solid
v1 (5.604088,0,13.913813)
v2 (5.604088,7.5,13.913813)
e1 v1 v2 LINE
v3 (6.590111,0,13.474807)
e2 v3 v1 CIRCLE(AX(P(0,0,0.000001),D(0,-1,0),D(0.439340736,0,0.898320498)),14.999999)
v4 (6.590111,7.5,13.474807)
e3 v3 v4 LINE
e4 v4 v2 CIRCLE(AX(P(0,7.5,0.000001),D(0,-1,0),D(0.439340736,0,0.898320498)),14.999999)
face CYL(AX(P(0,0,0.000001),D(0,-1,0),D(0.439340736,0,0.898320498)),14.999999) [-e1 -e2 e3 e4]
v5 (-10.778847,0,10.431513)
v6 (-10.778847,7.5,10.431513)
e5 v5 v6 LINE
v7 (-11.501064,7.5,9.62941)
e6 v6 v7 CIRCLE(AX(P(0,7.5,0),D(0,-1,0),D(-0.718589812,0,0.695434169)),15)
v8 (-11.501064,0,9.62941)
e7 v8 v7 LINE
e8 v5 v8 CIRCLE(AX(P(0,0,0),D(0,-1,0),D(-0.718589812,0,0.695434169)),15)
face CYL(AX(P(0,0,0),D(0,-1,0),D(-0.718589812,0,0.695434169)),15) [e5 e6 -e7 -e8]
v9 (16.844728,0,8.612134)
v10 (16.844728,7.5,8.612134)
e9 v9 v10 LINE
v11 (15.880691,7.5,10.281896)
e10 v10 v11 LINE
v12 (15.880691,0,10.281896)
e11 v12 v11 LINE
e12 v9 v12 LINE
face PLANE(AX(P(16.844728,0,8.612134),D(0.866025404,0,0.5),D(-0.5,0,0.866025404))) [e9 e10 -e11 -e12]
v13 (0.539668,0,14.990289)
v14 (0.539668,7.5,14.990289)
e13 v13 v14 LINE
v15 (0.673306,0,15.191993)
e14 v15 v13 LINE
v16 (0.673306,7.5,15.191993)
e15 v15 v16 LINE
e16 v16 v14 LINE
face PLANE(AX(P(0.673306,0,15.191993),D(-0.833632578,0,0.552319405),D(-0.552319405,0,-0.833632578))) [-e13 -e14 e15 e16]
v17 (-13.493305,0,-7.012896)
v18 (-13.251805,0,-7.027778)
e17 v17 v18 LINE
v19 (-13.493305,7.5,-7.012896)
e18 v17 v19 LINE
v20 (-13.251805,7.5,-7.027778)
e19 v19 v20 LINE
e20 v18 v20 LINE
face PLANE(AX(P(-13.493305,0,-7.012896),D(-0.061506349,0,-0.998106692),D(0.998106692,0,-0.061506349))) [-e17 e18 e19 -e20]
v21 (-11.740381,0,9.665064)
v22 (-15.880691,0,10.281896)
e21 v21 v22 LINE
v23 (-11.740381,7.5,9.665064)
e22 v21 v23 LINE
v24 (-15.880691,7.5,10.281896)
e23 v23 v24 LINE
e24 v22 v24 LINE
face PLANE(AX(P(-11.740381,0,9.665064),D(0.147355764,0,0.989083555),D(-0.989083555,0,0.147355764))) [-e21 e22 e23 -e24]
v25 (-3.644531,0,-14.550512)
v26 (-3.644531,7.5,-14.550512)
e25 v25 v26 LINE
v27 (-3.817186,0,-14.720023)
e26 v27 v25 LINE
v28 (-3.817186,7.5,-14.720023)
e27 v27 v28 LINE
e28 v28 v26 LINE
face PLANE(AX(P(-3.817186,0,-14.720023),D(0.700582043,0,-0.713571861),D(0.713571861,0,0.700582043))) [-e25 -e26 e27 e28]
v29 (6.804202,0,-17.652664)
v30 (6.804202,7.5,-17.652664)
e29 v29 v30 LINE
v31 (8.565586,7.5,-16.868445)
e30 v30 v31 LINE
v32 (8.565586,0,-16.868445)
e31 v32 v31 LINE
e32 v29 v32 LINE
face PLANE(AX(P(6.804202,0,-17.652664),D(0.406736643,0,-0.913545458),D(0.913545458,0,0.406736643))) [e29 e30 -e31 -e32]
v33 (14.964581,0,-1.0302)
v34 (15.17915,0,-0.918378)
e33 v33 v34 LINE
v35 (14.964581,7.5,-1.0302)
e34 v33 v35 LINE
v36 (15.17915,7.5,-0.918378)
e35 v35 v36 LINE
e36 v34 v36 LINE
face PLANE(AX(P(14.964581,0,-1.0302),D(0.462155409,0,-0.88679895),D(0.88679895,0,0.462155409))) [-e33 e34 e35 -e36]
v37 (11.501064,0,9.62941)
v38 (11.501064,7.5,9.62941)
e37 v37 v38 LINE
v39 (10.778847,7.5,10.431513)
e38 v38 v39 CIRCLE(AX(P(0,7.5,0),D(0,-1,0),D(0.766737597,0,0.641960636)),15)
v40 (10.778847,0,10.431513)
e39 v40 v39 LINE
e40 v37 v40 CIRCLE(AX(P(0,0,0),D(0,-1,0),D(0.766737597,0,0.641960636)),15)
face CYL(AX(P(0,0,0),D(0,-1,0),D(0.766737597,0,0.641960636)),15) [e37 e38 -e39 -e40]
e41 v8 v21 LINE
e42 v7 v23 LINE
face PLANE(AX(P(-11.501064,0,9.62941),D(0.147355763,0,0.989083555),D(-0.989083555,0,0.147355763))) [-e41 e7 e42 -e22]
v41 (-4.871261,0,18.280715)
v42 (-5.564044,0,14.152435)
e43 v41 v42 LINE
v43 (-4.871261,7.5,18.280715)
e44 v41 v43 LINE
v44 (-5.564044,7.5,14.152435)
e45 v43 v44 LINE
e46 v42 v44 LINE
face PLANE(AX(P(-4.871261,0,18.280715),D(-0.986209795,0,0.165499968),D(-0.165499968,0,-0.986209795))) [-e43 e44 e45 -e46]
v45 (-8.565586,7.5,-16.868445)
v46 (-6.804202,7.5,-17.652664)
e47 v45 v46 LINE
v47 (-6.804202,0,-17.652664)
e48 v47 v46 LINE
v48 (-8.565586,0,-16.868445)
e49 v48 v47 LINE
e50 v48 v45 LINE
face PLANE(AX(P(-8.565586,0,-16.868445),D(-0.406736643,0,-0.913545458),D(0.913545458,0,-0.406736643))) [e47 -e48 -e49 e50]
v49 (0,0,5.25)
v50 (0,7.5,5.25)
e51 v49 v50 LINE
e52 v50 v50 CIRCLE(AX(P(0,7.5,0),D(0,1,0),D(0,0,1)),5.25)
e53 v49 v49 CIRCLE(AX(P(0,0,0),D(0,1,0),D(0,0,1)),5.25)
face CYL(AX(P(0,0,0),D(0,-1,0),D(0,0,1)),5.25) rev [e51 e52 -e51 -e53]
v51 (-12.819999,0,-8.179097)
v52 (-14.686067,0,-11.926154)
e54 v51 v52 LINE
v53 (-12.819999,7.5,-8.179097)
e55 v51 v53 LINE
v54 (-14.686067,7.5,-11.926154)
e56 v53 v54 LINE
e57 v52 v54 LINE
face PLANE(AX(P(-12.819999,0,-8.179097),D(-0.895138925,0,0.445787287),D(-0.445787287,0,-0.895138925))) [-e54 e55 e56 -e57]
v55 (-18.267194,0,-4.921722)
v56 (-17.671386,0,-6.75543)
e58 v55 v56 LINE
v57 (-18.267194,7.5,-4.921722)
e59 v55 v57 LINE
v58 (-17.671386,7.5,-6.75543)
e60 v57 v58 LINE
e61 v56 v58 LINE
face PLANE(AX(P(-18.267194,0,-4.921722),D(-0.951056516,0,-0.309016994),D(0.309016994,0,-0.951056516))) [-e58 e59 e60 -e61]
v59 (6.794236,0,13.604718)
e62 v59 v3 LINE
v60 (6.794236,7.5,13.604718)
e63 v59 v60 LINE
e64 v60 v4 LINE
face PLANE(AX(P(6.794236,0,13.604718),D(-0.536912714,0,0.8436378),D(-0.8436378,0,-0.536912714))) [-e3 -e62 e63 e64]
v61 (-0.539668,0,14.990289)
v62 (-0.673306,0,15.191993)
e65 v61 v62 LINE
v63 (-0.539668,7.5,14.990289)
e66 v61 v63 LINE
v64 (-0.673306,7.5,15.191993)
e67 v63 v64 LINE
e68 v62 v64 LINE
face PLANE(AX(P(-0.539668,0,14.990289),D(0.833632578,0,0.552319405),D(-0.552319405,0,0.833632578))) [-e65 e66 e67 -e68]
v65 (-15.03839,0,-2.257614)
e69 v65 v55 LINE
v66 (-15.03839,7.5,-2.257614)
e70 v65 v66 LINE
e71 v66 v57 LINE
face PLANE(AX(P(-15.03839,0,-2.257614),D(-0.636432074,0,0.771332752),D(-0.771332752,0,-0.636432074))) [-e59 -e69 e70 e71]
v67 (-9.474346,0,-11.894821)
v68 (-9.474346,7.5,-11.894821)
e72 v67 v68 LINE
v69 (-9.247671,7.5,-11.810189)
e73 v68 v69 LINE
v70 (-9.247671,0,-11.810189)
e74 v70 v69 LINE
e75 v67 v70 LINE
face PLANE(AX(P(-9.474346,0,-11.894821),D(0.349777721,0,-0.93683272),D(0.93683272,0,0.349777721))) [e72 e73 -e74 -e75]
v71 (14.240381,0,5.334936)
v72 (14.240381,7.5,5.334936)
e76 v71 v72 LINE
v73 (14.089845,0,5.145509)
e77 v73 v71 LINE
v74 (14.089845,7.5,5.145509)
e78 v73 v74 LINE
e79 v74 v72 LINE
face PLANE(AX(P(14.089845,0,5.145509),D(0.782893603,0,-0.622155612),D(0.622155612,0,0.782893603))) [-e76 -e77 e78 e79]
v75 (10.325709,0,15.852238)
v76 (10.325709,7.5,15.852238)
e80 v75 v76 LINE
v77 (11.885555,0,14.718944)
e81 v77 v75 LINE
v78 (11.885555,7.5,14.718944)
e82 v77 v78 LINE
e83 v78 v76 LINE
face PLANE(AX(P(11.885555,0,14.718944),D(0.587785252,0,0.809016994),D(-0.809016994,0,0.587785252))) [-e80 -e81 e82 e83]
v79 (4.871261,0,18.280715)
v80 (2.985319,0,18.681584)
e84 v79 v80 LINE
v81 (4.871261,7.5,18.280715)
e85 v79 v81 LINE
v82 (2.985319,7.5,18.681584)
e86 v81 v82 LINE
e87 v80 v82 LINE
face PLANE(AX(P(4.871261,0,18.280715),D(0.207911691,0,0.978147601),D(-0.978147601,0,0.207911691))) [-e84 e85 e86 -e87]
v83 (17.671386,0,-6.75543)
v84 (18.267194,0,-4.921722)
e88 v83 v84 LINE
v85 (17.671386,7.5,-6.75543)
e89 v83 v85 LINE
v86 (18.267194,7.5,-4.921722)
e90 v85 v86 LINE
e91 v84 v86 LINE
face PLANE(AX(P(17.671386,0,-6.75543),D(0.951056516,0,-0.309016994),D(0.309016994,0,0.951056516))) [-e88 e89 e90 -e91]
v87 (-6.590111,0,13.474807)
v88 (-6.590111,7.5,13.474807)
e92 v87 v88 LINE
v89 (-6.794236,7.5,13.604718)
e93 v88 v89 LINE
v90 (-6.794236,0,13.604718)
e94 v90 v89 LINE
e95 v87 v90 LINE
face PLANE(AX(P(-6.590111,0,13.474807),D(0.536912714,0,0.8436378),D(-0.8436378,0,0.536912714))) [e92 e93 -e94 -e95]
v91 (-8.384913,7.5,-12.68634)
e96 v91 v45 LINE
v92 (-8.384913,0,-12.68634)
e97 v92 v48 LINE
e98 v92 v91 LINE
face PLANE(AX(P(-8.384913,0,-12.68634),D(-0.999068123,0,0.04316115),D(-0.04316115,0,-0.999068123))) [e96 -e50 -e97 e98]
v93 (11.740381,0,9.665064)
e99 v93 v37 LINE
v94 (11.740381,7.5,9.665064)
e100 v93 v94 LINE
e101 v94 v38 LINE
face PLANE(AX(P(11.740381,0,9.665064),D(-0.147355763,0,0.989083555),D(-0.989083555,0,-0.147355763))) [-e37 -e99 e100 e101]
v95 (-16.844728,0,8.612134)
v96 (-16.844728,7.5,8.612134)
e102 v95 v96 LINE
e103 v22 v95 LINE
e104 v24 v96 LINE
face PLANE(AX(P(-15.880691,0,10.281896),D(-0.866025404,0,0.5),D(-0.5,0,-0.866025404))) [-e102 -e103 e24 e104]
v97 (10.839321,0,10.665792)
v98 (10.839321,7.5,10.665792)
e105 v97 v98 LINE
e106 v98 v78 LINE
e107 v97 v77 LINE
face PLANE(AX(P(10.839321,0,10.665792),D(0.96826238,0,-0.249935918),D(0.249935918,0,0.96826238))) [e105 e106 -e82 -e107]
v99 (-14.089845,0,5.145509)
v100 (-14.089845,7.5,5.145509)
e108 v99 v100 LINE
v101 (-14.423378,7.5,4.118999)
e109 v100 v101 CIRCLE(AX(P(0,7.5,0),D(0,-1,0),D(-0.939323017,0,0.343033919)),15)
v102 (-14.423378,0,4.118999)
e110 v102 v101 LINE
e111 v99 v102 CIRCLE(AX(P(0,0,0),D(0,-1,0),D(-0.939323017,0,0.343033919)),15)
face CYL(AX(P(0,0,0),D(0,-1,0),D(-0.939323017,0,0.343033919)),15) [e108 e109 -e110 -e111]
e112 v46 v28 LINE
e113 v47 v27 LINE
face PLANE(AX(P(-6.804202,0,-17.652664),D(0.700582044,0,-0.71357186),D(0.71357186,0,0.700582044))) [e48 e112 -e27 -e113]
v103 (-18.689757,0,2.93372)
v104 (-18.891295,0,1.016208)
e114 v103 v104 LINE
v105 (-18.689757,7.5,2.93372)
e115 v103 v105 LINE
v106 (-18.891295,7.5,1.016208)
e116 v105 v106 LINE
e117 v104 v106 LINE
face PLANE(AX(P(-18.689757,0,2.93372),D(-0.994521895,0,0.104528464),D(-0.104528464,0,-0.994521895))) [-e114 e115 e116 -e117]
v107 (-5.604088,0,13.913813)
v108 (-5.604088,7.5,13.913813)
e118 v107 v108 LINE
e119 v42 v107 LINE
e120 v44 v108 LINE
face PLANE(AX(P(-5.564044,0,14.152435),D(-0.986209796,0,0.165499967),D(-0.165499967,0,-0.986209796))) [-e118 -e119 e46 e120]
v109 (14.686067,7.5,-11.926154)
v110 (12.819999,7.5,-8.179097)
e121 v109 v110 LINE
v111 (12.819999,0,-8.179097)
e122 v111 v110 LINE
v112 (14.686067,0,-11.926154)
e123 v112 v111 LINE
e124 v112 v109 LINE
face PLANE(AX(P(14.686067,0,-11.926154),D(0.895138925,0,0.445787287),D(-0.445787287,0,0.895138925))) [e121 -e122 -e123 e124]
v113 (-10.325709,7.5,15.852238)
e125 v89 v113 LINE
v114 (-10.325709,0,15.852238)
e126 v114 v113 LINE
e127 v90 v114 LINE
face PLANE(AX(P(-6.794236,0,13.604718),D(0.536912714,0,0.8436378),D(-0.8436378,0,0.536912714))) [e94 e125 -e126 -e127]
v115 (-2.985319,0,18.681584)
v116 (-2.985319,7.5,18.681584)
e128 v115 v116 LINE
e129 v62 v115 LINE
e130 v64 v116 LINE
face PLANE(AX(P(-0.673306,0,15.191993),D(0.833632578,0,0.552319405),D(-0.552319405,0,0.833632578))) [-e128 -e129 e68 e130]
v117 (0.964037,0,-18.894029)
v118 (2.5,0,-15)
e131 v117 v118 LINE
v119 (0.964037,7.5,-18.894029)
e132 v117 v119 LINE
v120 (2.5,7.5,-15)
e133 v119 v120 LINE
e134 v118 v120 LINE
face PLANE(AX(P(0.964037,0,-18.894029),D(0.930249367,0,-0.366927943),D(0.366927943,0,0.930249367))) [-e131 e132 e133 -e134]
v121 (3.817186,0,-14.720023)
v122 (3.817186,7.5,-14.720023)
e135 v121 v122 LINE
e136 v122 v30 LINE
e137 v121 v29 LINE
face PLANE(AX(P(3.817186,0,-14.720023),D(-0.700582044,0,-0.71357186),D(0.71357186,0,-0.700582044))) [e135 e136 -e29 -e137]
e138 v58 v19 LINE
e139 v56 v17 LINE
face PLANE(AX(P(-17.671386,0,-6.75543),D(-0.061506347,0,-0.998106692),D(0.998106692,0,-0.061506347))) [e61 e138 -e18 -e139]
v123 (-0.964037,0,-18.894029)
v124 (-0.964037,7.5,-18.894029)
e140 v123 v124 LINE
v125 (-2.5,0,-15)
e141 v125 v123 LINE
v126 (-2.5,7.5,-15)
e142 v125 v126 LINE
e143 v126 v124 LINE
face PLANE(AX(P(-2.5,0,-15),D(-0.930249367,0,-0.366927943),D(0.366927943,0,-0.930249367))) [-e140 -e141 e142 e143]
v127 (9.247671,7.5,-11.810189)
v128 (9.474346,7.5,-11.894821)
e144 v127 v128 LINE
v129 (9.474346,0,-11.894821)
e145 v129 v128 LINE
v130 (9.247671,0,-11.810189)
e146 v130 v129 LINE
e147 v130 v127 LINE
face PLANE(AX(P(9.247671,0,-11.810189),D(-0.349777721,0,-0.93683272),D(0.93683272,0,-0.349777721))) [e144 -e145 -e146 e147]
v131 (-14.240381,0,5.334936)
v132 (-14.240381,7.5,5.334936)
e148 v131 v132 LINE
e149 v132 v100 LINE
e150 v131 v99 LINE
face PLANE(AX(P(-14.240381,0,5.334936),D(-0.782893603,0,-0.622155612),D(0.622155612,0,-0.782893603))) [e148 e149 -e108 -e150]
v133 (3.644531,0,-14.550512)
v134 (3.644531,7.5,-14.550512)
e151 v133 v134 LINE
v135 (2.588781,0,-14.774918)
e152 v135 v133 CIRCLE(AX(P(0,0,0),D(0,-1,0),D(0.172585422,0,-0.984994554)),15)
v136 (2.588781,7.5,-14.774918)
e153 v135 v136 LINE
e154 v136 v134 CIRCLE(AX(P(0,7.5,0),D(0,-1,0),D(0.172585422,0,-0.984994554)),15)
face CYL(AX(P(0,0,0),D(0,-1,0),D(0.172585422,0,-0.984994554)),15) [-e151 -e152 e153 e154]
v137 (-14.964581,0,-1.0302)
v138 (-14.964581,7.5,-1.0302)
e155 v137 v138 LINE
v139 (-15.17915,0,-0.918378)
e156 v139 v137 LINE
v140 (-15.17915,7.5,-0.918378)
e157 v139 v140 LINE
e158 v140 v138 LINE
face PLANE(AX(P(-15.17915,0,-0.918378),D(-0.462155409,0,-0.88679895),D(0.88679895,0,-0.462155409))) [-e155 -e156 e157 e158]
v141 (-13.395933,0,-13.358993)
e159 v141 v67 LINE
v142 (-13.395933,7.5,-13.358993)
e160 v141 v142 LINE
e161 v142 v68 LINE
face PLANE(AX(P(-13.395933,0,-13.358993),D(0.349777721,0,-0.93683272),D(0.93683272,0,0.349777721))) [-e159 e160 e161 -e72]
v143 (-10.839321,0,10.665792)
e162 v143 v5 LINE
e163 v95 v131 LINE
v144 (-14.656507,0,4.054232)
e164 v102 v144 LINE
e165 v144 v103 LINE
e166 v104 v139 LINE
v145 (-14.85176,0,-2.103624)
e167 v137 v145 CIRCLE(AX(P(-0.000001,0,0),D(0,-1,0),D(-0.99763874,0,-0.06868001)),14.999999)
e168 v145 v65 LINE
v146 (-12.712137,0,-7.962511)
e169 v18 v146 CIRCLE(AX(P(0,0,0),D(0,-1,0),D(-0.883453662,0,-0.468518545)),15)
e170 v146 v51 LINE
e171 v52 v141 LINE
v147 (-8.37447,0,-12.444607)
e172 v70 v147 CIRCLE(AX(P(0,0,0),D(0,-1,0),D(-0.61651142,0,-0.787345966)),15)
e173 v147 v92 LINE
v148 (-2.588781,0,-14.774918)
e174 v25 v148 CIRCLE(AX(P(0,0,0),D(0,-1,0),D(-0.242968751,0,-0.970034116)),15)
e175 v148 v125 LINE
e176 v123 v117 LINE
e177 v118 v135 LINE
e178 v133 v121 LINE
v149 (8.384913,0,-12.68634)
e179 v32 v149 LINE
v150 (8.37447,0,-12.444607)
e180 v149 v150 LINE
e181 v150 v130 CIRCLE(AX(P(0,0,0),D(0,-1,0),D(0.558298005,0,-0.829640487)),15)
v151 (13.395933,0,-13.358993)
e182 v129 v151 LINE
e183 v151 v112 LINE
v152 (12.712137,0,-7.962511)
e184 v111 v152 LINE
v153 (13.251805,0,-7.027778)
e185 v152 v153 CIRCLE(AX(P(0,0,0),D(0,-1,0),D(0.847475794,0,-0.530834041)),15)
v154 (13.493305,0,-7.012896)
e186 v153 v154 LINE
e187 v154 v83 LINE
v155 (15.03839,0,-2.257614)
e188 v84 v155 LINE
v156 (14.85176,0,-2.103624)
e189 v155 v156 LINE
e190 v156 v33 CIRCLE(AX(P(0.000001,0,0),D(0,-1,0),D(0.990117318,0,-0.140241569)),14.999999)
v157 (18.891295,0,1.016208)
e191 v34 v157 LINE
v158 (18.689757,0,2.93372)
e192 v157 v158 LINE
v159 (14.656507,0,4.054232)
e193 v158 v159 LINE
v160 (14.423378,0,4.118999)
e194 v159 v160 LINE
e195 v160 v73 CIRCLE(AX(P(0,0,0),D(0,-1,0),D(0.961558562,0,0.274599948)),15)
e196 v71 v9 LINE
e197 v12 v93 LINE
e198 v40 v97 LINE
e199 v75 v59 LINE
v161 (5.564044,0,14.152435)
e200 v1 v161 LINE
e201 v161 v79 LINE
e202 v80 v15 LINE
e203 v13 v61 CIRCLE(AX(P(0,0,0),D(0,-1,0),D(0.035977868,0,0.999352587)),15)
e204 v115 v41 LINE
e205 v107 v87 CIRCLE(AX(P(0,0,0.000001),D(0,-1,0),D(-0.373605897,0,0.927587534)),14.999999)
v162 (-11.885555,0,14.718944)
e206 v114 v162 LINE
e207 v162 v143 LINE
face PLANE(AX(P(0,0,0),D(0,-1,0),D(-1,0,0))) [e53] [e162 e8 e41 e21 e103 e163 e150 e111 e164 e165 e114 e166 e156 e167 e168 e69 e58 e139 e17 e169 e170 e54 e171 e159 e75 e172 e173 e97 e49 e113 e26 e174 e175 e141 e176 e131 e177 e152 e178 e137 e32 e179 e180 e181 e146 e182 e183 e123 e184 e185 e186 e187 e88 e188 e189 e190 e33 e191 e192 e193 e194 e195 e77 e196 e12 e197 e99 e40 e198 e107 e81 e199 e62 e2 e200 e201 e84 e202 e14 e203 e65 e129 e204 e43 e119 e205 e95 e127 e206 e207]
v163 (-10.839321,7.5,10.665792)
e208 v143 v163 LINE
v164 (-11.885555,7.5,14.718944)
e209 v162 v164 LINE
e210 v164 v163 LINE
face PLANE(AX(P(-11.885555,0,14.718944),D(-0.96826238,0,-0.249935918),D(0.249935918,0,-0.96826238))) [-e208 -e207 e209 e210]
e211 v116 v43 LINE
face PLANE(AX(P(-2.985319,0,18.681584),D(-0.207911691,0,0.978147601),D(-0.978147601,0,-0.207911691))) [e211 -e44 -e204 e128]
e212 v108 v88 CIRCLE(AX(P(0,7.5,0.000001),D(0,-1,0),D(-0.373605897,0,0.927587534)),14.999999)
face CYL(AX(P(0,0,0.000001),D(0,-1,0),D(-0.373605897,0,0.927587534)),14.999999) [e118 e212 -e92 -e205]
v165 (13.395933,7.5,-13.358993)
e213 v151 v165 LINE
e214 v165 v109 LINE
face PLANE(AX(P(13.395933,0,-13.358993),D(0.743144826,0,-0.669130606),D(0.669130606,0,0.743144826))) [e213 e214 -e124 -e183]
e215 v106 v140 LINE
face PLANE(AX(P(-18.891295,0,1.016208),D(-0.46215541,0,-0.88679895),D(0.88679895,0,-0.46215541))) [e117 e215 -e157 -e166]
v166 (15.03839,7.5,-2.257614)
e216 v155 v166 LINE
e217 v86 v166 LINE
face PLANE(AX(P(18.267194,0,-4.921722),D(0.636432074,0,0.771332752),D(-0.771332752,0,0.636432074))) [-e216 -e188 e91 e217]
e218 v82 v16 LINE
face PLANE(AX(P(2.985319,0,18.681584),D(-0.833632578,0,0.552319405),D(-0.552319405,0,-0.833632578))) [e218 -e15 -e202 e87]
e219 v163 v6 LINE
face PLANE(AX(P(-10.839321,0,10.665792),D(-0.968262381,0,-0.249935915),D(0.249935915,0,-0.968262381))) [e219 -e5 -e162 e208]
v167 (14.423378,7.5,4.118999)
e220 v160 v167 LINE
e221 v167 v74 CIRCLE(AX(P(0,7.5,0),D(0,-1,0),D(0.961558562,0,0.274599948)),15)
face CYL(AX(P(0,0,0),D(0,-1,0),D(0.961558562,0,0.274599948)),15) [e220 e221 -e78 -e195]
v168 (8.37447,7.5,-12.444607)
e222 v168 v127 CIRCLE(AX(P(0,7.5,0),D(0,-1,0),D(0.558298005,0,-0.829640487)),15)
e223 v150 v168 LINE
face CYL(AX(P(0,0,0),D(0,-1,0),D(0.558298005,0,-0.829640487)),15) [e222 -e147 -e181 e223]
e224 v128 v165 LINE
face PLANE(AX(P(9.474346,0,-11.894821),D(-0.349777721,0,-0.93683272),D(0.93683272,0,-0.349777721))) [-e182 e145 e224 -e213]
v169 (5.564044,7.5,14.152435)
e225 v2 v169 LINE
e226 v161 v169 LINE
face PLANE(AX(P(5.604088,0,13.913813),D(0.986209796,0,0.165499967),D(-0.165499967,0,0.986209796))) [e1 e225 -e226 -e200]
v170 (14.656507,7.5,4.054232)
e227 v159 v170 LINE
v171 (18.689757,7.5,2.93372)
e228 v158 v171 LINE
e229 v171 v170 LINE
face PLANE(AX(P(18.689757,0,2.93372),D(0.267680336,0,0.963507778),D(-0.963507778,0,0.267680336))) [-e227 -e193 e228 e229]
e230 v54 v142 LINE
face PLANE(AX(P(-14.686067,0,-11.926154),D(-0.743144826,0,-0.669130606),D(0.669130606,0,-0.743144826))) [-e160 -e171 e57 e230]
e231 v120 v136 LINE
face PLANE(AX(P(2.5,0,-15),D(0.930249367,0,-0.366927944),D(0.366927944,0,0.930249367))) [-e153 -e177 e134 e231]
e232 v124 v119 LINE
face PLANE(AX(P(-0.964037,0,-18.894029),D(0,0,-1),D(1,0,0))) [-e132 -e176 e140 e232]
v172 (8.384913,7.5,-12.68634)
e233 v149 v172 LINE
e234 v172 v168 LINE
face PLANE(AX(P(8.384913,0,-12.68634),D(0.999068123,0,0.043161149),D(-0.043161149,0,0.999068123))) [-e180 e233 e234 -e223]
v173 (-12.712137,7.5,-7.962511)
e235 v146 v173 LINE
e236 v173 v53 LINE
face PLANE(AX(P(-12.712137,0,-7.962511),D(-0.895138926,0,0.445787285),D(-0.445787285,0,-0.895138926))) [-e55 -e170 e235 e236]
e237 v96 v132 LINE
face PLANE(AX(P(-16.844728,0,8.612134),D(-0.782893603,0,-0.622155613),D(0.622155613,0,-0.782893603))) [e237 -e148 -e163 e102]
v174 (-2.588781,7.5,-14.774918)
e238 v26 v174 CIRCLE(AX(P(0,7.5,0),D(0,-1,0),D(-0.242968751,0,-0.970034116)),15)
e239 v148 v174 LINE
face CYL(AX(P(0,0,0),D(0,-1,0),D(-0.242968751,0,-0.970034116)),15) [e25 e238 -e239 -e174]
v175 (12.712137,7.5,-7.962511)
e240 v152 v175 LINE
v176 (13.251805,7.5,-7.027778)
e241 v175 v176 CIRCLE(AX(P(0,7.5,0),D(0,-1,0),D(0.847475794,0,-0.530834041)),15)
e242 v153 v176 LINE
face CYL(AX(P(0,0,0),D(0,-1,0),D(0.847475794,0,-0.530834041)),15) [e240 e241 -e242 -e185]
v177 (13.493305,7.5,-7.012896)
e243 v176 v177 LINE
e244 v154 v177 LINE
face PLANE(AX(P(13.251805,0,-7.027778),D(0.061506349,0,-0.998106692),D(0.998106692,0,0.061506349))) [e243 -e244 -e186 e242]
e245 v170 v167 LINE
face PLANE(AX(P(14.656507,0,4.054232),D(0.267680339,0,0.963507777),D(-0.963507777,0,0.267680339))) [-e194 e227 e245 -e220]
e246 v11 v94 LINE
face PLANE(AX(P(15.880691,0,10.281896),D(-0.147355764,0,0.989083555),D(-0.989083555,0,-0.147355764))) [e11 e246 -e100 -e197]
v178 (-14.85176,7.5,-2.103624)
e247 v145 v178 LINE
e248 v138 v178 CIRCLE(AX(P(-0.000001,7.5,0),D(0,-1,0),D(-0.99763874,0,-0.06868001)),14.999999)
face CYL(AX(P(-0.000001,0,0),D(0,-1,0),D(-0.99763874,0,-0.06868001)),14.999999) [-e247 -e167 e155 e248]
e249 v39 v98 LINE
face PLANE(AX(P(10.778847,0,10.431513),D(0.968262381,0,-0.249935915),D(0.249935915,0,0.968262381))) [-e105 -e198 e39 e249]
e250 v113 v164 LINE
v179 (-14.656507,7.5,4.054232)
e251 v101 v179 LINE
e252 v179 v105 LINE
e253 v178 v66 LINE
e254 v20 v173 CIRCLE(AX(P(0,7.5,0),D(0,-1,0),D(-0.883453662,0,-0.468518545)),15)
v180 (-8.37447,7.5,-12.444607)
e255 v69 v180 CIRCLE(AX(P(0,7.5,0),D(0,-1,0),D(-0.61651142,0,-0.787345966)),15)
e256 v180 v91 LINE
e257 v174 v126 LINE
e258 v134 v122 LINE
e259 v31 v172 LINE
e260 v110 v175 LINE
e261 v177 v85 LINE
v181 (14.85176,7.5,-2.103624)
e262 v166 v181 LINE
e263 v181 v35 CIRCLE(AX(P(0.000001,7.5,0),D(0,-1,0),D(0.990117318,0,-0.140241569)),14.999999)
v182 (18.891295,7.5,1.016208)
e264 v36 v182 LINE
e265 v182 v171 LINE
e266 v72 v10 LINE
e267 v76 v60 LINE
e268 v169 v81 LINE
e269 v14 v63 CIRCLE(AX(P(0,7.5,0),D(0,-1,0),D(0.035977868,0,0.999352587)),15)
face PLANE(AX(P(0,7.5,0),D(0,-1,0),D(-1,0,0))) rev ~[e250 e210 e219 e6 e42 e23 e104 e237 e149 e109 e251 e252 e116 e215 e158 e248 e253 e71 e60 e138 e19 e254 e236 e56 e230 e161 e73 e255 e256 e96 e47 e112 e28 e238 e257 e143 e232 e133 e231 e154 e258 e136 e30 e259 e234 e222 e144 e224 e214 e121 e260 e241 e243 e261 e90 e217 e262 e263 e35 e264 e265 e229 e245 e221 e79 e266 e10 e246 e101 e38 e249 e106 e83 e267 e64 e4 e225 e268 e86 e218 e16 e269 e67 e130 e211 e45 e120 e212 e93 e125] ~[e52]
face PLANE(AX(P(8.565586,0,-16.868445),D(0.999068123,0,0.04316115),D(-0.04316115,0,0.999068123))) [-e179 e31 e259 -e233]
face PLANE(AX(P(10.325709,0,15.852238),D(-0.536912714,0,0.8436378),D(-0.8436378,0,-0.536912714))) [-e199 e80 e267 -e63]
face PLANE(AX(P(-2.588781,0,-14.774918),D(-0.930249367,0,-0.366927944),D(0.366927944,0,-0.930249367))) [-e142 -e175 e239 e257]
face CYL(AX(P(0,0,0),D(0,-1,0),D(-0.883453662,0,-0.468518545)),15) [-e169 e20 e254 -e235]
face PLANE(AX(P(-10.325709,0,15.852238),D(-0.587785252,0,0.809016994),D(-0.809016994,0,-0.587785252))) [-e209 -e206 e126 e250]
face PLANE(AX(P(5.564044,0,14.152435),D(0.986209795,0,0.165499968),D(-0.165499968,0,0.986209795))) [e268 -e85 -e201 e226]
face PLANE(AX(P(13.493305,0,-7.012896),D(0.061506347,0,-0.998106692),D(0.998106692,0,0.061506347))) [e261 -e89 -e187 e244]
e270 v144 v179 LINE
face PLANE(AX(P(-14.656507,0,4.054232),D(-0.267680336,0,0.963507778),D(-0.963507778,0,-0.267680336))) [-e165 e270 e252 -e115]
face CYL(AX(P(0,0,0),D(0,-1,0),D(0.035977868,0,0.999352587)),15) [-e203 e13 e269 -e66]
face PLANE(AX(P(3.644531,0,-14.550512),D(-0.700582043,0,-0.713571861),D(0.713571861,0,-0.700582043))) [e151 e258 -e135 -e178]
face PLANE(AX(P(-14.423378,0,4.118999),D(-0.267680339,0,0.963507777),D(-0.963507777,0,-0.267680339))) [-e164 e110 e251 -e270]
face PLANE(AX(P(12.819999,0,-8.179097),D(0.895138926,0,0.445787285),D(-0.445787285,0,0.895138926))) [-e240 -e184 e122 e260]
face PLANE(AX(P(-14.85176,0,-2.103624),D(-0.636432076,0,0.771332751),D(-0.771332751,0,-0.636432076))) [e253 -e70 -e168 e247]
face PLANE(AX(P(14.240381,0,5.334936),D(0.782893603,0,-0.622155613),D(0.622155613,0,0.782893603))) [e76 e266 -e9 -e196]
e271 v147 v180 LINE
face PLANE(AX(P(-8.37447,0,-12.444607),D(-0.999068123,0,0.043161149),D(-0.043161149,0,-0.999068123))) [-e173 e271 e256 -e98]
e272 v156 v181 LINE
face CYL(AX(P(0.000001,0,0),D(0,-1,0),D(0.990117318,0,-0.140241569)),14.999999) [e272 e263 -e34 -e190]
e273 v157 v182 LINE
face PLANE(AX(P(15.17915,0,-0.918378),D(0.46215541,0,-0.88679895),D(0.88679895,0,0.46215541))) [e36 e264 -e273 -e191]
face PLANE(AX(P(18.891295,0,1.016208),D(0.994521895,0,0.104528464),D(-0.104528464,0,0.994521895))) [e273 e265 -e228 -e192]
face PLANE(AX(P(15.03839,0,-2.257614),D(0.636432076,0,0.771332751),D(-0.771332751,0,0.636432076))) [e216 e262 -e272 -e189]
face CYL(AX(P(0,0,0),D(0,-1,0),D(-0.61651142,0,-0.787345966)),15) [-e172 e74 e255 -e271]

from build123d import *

# Parameters (mm, degrees)
CROQUIS1_R              = 5.25
SALIENTE_EXTRUIR1_DEPTH = 7.5


with BuildPart() as part:
    # Croquis1 → Saliente-Extruir1 (new body)
    with BuildSketch(Plane(origin=(0, 0, 0), x_dir=(1, 0, 0), z_dir=(0, 1, 0))):
        with BuildLine():
            Line((-2.5, 15), (-0.96403744, 18.894029408))
            Line((-0.96403744, 18.894029408), (0.96403744, 18.894029408))
            Line((0.96403744, 18.894029408), (2.5, 15))
            Line((2.5, 15), (2.588781311, 14.774918319))
            ThreePointArc((2.588781311, 14.774918319), (3.118675362, 14.672214011), (3.644531271, 14.550511737))
            Line((3.644531271, 14.550511737), (3.817186002, 14.720023472))
            Line((3.817186002, 14.720023472), (6.804202071, 17.652664095))
            Line((6.804202071, 17.652664095), (8.56558612, 16.86844539))
            Line((8.56558612, 16.86844539), (8.38491329, 12.686340257))
            Line((8.38491329, 12.686340257), (8.374470086, 12.444607297))
            ThreePointArc((8.374470086, 12.444607297), (8.816778784, 12.135254916), (9.247671287, 11.810189489))
            Line((9.247671287, 11.810189489), (9.474345866, 11.894821159))
            Line((9.474345866, 11.894821159), (13.39593323, 13.35899279))
            Line((13.39593323, 13.35899279), (14.686067144, 11.926153919))
            Line((14.686067144, 11.926153919), (12.819998898, 8.179097032))
            Line((12.819998898, 8.179097032), (12.712136904, 7.962510618))
            ThreePointArc((12.712136904, 7.962510618), (12.990381057, 7.5), (13.251804925, 7.027778186))
            Line((13.251804925, 7.027778186), (13.493305258, 7.012896206))
            Line((13.493305258, 7.012896206), (17.671385836, 6.755430269))
            Line((17.671385836, 6.755430269), (18.26719374, 4.92172209))
            Line((18.26719374, 4.92172209), (15.03839023, 2.257613625))
            Line((15.03839023, 2.257613625), (14.851759765, 2.103623516))
            ThreePointArc((14.851759765, 2.103623516), (14.917828431, 1.567926949), (14.964581102, 1.030200189))
            Line((14.964581102, 1.030200189), (15.179149589, 0.918377789))
            Line((15.179149589, 0.918377789), (18.891295291, -1.016207517))
            Line((18.891295291, -1.016207517), (18.689756586, -2.933720201))
            Line((18.689756586, -2.933720201), (14.656507272, -4.054231687))
            Line((14.656507272, -4.054231687), (14.423378438, -4.118999203))
            ThreePointArc((14.423378438, -4.118999203), (14.265847744, -4.635254916), (14.089845258, -5.145508779))
            Line((14.089845258, -5.145508779), (14.240381057, -5.334936491))
            Line((14.240381057, -5.334936491), (16.844728168, -8.612133791))
            Line((16.844728168, -8.612133791), (15.880690727, -10.281895618))
            Line((15.880690727, -10.281895618), (11.740381057, -9.665063509))
            Line((11.740381057, -9.665063509), (11.501063947, -9.629409539))
            ThreePointArc((11.501063947, -9.629409539), (11.147172382, -10.036959095), (10.778847167, -10.431512534))
            Line((10.778847167, -10.431512534), (10.83932127, -10.665791785))
            Line((10.83932127, -10.665791785), (11.885554515, -14.718943894))
            Line((11.885554515, -14.718943894), (10.32570917, -15.852237874))
            Line((10.32570917, -15.852237874), (6.794236298, -13.604718046))
            Line((6.794236298, -13.604718046), (6.590111016, -13.474807486))
            ThreePointArc((6.590111016, -13.474807486), (6.101049646, -13.703181865), (5.604088477, -13.913813005))
            Line((5.604088477, -13.913813005), (5.564044364, -14.152434784))
            Line((5.564044364, -14.152434784), (4.87126051, -18.28071488))
            Line((4.87126051, -18.28071488), (2.985318691, -18.681584188))
            Line((2.985318691, -18.681584188), (0.67330636, -15.191993238))
            Line((0.67330636, -15.191993238), (0.539668021, -14.990288804))
            ThreePointArc((0.539668021, -14.990288804), (0, -15), (-0.539668021, -14.990288804))
            Line((-0.539668021, -14.990288804), (-0.67330636, -15.191993238))
            Line((-0.67330636, -15.191993238), (-2.985318691, -18.681584188))
            Line((-2.985318691, -18.681584188), (-4.87126051, -18.28071488))
            Line((-4.87126051, -18.28071488), (-5.564044364, -14.152434784))
            Line((-5.564044364, -14.152434784), (-5.604088477, -13.913813005))
            ThreePointArc((-5.604088477, -13.913813005), (-6.101049646, -13.703181865), (-6.590111016, -13.474807486))
            Line((-6.590111016, -13.474807486), (-6.794236298, -13.604718046))
            Line((-6.794236298, -13.604718046), (-10.32570917, -15.852237874))
            Line((-10.32570917, -15.852237874), (-11.885554515, -14.718943894))
            Line((-11.885554515, -14.718943894), (-10.83932127, -10.665791785))
            Line((-10.83932127, -10.665791785), (-10.778847167, -10.431512534))
            ThreePointArc((-10.778847167, -10.431512534), (-11.147172382, -10.036959095), (-11.501063947, -9.629409539))
            Line((-11.501063947, -9.629409539), (-11.740381057, -9.665063509))
            Line((-11.740381057, -9.665063509), (-15.880690727, -10.281895618))
            Line((-15.880690727, -10.281895618), (-16.844728168, -8.612133791))
            Line((-16.844728168, -8.612133791), (-14.240381057, -5.334936491))
            Line((-14.240381057, -5.334936491), (-14.089845258, -5.145508779))
            ThreePointArc((-14.089845258, -5.145508779), (-14.265847744, -4.635254916), (-14.423378438, -4.118999203))
            Line((-14.423378438, -4.118999203), (-14.656507272, -4.054231687))
            Line((-14.656507272, -4.054231687), (-18.689756586, -2.933720201))
            Line((-18.689756586, -2.933720201), (-18.891295291, -1.016207517))
            Line((-18.891295291, -1.016207517), (-15.179149589, 0.918377789))
            Line((-15.179149589, 0.918377789), (-14.964581102, 1.030200189))
            ThreePointArc((-14.964581102, 1.030200189), (-14.917828431, 1.567926949), (-14.851759765, 2.103623516))
            Line((-14.851759765, 2.103623516), (-15.03839023, 2.257613625))
            Line((-15.03839023, 2.257613625), (-18.26719374, 4.92172209))
            Line((-18.26719374, 4.92172209), (-17.671385836, 6.755430269))
            Line((-17.671385836, 6.755430269), (-13.493305258, 7.012896206))
            Line((-13.493305258, 7.012896206), (-13.251804925, 7.027778186))
            ThreePointArc((-13.251804925, 7.027778186), (-12.990381057, 7.5), (-12.712136904, 7.962510618))
            Line((-12.712136904, 7.962510618), (-12.819998898, 8.179097032))
            Line((-12.819998898, 8.179097032), (-14.686067144, 11.926153919))
            Line((-14.686067144, 11.926153919), (-13.39593323, 13.35899279))
            Line((-13.39593323, 13.35899279), (-9.474345866, 11.894821159))
            Line((-9.474345866, 11.894821159), (-9.247671287, 11.810189489))
            ThreePointArc((-9.247671287, 11.810189489), (-8.816778784, 12.135254916), (-8.374470086, 12.444607297))
            Line((-8.374470086, 12.444607297), (-8.38491329, 12.686340257))
            Line((-8.38491329, 12.686340257), (-8.56558612, 16.86844539))
            Line((-8.56558612, 16.86844539), (-6.804202071, 17.652664095))
            Line((-6.804202071, 17.652664095), (-3.817186002, 14.720023472))
            Line((-3.817186002, 14.720023472), (-3.644531271, 14.550511737))
            ThreePointArc((-3.644531271, 14.550511737), (-3.118675362, 14.672214011), (-2.588781311, 14.774918319))
            Line((-2.588781311, 14.774918319), (-2.5, 15))
        make_face()
        with Locations(Location((0, 0, 0), (0, 0, 270))):
            Circle(CROQUIS1_R, mode=Mode.SUBTRACT)
    extrude(amount=SALIENTE_EXTRUIR1_DEPTH)


solid = part.part
